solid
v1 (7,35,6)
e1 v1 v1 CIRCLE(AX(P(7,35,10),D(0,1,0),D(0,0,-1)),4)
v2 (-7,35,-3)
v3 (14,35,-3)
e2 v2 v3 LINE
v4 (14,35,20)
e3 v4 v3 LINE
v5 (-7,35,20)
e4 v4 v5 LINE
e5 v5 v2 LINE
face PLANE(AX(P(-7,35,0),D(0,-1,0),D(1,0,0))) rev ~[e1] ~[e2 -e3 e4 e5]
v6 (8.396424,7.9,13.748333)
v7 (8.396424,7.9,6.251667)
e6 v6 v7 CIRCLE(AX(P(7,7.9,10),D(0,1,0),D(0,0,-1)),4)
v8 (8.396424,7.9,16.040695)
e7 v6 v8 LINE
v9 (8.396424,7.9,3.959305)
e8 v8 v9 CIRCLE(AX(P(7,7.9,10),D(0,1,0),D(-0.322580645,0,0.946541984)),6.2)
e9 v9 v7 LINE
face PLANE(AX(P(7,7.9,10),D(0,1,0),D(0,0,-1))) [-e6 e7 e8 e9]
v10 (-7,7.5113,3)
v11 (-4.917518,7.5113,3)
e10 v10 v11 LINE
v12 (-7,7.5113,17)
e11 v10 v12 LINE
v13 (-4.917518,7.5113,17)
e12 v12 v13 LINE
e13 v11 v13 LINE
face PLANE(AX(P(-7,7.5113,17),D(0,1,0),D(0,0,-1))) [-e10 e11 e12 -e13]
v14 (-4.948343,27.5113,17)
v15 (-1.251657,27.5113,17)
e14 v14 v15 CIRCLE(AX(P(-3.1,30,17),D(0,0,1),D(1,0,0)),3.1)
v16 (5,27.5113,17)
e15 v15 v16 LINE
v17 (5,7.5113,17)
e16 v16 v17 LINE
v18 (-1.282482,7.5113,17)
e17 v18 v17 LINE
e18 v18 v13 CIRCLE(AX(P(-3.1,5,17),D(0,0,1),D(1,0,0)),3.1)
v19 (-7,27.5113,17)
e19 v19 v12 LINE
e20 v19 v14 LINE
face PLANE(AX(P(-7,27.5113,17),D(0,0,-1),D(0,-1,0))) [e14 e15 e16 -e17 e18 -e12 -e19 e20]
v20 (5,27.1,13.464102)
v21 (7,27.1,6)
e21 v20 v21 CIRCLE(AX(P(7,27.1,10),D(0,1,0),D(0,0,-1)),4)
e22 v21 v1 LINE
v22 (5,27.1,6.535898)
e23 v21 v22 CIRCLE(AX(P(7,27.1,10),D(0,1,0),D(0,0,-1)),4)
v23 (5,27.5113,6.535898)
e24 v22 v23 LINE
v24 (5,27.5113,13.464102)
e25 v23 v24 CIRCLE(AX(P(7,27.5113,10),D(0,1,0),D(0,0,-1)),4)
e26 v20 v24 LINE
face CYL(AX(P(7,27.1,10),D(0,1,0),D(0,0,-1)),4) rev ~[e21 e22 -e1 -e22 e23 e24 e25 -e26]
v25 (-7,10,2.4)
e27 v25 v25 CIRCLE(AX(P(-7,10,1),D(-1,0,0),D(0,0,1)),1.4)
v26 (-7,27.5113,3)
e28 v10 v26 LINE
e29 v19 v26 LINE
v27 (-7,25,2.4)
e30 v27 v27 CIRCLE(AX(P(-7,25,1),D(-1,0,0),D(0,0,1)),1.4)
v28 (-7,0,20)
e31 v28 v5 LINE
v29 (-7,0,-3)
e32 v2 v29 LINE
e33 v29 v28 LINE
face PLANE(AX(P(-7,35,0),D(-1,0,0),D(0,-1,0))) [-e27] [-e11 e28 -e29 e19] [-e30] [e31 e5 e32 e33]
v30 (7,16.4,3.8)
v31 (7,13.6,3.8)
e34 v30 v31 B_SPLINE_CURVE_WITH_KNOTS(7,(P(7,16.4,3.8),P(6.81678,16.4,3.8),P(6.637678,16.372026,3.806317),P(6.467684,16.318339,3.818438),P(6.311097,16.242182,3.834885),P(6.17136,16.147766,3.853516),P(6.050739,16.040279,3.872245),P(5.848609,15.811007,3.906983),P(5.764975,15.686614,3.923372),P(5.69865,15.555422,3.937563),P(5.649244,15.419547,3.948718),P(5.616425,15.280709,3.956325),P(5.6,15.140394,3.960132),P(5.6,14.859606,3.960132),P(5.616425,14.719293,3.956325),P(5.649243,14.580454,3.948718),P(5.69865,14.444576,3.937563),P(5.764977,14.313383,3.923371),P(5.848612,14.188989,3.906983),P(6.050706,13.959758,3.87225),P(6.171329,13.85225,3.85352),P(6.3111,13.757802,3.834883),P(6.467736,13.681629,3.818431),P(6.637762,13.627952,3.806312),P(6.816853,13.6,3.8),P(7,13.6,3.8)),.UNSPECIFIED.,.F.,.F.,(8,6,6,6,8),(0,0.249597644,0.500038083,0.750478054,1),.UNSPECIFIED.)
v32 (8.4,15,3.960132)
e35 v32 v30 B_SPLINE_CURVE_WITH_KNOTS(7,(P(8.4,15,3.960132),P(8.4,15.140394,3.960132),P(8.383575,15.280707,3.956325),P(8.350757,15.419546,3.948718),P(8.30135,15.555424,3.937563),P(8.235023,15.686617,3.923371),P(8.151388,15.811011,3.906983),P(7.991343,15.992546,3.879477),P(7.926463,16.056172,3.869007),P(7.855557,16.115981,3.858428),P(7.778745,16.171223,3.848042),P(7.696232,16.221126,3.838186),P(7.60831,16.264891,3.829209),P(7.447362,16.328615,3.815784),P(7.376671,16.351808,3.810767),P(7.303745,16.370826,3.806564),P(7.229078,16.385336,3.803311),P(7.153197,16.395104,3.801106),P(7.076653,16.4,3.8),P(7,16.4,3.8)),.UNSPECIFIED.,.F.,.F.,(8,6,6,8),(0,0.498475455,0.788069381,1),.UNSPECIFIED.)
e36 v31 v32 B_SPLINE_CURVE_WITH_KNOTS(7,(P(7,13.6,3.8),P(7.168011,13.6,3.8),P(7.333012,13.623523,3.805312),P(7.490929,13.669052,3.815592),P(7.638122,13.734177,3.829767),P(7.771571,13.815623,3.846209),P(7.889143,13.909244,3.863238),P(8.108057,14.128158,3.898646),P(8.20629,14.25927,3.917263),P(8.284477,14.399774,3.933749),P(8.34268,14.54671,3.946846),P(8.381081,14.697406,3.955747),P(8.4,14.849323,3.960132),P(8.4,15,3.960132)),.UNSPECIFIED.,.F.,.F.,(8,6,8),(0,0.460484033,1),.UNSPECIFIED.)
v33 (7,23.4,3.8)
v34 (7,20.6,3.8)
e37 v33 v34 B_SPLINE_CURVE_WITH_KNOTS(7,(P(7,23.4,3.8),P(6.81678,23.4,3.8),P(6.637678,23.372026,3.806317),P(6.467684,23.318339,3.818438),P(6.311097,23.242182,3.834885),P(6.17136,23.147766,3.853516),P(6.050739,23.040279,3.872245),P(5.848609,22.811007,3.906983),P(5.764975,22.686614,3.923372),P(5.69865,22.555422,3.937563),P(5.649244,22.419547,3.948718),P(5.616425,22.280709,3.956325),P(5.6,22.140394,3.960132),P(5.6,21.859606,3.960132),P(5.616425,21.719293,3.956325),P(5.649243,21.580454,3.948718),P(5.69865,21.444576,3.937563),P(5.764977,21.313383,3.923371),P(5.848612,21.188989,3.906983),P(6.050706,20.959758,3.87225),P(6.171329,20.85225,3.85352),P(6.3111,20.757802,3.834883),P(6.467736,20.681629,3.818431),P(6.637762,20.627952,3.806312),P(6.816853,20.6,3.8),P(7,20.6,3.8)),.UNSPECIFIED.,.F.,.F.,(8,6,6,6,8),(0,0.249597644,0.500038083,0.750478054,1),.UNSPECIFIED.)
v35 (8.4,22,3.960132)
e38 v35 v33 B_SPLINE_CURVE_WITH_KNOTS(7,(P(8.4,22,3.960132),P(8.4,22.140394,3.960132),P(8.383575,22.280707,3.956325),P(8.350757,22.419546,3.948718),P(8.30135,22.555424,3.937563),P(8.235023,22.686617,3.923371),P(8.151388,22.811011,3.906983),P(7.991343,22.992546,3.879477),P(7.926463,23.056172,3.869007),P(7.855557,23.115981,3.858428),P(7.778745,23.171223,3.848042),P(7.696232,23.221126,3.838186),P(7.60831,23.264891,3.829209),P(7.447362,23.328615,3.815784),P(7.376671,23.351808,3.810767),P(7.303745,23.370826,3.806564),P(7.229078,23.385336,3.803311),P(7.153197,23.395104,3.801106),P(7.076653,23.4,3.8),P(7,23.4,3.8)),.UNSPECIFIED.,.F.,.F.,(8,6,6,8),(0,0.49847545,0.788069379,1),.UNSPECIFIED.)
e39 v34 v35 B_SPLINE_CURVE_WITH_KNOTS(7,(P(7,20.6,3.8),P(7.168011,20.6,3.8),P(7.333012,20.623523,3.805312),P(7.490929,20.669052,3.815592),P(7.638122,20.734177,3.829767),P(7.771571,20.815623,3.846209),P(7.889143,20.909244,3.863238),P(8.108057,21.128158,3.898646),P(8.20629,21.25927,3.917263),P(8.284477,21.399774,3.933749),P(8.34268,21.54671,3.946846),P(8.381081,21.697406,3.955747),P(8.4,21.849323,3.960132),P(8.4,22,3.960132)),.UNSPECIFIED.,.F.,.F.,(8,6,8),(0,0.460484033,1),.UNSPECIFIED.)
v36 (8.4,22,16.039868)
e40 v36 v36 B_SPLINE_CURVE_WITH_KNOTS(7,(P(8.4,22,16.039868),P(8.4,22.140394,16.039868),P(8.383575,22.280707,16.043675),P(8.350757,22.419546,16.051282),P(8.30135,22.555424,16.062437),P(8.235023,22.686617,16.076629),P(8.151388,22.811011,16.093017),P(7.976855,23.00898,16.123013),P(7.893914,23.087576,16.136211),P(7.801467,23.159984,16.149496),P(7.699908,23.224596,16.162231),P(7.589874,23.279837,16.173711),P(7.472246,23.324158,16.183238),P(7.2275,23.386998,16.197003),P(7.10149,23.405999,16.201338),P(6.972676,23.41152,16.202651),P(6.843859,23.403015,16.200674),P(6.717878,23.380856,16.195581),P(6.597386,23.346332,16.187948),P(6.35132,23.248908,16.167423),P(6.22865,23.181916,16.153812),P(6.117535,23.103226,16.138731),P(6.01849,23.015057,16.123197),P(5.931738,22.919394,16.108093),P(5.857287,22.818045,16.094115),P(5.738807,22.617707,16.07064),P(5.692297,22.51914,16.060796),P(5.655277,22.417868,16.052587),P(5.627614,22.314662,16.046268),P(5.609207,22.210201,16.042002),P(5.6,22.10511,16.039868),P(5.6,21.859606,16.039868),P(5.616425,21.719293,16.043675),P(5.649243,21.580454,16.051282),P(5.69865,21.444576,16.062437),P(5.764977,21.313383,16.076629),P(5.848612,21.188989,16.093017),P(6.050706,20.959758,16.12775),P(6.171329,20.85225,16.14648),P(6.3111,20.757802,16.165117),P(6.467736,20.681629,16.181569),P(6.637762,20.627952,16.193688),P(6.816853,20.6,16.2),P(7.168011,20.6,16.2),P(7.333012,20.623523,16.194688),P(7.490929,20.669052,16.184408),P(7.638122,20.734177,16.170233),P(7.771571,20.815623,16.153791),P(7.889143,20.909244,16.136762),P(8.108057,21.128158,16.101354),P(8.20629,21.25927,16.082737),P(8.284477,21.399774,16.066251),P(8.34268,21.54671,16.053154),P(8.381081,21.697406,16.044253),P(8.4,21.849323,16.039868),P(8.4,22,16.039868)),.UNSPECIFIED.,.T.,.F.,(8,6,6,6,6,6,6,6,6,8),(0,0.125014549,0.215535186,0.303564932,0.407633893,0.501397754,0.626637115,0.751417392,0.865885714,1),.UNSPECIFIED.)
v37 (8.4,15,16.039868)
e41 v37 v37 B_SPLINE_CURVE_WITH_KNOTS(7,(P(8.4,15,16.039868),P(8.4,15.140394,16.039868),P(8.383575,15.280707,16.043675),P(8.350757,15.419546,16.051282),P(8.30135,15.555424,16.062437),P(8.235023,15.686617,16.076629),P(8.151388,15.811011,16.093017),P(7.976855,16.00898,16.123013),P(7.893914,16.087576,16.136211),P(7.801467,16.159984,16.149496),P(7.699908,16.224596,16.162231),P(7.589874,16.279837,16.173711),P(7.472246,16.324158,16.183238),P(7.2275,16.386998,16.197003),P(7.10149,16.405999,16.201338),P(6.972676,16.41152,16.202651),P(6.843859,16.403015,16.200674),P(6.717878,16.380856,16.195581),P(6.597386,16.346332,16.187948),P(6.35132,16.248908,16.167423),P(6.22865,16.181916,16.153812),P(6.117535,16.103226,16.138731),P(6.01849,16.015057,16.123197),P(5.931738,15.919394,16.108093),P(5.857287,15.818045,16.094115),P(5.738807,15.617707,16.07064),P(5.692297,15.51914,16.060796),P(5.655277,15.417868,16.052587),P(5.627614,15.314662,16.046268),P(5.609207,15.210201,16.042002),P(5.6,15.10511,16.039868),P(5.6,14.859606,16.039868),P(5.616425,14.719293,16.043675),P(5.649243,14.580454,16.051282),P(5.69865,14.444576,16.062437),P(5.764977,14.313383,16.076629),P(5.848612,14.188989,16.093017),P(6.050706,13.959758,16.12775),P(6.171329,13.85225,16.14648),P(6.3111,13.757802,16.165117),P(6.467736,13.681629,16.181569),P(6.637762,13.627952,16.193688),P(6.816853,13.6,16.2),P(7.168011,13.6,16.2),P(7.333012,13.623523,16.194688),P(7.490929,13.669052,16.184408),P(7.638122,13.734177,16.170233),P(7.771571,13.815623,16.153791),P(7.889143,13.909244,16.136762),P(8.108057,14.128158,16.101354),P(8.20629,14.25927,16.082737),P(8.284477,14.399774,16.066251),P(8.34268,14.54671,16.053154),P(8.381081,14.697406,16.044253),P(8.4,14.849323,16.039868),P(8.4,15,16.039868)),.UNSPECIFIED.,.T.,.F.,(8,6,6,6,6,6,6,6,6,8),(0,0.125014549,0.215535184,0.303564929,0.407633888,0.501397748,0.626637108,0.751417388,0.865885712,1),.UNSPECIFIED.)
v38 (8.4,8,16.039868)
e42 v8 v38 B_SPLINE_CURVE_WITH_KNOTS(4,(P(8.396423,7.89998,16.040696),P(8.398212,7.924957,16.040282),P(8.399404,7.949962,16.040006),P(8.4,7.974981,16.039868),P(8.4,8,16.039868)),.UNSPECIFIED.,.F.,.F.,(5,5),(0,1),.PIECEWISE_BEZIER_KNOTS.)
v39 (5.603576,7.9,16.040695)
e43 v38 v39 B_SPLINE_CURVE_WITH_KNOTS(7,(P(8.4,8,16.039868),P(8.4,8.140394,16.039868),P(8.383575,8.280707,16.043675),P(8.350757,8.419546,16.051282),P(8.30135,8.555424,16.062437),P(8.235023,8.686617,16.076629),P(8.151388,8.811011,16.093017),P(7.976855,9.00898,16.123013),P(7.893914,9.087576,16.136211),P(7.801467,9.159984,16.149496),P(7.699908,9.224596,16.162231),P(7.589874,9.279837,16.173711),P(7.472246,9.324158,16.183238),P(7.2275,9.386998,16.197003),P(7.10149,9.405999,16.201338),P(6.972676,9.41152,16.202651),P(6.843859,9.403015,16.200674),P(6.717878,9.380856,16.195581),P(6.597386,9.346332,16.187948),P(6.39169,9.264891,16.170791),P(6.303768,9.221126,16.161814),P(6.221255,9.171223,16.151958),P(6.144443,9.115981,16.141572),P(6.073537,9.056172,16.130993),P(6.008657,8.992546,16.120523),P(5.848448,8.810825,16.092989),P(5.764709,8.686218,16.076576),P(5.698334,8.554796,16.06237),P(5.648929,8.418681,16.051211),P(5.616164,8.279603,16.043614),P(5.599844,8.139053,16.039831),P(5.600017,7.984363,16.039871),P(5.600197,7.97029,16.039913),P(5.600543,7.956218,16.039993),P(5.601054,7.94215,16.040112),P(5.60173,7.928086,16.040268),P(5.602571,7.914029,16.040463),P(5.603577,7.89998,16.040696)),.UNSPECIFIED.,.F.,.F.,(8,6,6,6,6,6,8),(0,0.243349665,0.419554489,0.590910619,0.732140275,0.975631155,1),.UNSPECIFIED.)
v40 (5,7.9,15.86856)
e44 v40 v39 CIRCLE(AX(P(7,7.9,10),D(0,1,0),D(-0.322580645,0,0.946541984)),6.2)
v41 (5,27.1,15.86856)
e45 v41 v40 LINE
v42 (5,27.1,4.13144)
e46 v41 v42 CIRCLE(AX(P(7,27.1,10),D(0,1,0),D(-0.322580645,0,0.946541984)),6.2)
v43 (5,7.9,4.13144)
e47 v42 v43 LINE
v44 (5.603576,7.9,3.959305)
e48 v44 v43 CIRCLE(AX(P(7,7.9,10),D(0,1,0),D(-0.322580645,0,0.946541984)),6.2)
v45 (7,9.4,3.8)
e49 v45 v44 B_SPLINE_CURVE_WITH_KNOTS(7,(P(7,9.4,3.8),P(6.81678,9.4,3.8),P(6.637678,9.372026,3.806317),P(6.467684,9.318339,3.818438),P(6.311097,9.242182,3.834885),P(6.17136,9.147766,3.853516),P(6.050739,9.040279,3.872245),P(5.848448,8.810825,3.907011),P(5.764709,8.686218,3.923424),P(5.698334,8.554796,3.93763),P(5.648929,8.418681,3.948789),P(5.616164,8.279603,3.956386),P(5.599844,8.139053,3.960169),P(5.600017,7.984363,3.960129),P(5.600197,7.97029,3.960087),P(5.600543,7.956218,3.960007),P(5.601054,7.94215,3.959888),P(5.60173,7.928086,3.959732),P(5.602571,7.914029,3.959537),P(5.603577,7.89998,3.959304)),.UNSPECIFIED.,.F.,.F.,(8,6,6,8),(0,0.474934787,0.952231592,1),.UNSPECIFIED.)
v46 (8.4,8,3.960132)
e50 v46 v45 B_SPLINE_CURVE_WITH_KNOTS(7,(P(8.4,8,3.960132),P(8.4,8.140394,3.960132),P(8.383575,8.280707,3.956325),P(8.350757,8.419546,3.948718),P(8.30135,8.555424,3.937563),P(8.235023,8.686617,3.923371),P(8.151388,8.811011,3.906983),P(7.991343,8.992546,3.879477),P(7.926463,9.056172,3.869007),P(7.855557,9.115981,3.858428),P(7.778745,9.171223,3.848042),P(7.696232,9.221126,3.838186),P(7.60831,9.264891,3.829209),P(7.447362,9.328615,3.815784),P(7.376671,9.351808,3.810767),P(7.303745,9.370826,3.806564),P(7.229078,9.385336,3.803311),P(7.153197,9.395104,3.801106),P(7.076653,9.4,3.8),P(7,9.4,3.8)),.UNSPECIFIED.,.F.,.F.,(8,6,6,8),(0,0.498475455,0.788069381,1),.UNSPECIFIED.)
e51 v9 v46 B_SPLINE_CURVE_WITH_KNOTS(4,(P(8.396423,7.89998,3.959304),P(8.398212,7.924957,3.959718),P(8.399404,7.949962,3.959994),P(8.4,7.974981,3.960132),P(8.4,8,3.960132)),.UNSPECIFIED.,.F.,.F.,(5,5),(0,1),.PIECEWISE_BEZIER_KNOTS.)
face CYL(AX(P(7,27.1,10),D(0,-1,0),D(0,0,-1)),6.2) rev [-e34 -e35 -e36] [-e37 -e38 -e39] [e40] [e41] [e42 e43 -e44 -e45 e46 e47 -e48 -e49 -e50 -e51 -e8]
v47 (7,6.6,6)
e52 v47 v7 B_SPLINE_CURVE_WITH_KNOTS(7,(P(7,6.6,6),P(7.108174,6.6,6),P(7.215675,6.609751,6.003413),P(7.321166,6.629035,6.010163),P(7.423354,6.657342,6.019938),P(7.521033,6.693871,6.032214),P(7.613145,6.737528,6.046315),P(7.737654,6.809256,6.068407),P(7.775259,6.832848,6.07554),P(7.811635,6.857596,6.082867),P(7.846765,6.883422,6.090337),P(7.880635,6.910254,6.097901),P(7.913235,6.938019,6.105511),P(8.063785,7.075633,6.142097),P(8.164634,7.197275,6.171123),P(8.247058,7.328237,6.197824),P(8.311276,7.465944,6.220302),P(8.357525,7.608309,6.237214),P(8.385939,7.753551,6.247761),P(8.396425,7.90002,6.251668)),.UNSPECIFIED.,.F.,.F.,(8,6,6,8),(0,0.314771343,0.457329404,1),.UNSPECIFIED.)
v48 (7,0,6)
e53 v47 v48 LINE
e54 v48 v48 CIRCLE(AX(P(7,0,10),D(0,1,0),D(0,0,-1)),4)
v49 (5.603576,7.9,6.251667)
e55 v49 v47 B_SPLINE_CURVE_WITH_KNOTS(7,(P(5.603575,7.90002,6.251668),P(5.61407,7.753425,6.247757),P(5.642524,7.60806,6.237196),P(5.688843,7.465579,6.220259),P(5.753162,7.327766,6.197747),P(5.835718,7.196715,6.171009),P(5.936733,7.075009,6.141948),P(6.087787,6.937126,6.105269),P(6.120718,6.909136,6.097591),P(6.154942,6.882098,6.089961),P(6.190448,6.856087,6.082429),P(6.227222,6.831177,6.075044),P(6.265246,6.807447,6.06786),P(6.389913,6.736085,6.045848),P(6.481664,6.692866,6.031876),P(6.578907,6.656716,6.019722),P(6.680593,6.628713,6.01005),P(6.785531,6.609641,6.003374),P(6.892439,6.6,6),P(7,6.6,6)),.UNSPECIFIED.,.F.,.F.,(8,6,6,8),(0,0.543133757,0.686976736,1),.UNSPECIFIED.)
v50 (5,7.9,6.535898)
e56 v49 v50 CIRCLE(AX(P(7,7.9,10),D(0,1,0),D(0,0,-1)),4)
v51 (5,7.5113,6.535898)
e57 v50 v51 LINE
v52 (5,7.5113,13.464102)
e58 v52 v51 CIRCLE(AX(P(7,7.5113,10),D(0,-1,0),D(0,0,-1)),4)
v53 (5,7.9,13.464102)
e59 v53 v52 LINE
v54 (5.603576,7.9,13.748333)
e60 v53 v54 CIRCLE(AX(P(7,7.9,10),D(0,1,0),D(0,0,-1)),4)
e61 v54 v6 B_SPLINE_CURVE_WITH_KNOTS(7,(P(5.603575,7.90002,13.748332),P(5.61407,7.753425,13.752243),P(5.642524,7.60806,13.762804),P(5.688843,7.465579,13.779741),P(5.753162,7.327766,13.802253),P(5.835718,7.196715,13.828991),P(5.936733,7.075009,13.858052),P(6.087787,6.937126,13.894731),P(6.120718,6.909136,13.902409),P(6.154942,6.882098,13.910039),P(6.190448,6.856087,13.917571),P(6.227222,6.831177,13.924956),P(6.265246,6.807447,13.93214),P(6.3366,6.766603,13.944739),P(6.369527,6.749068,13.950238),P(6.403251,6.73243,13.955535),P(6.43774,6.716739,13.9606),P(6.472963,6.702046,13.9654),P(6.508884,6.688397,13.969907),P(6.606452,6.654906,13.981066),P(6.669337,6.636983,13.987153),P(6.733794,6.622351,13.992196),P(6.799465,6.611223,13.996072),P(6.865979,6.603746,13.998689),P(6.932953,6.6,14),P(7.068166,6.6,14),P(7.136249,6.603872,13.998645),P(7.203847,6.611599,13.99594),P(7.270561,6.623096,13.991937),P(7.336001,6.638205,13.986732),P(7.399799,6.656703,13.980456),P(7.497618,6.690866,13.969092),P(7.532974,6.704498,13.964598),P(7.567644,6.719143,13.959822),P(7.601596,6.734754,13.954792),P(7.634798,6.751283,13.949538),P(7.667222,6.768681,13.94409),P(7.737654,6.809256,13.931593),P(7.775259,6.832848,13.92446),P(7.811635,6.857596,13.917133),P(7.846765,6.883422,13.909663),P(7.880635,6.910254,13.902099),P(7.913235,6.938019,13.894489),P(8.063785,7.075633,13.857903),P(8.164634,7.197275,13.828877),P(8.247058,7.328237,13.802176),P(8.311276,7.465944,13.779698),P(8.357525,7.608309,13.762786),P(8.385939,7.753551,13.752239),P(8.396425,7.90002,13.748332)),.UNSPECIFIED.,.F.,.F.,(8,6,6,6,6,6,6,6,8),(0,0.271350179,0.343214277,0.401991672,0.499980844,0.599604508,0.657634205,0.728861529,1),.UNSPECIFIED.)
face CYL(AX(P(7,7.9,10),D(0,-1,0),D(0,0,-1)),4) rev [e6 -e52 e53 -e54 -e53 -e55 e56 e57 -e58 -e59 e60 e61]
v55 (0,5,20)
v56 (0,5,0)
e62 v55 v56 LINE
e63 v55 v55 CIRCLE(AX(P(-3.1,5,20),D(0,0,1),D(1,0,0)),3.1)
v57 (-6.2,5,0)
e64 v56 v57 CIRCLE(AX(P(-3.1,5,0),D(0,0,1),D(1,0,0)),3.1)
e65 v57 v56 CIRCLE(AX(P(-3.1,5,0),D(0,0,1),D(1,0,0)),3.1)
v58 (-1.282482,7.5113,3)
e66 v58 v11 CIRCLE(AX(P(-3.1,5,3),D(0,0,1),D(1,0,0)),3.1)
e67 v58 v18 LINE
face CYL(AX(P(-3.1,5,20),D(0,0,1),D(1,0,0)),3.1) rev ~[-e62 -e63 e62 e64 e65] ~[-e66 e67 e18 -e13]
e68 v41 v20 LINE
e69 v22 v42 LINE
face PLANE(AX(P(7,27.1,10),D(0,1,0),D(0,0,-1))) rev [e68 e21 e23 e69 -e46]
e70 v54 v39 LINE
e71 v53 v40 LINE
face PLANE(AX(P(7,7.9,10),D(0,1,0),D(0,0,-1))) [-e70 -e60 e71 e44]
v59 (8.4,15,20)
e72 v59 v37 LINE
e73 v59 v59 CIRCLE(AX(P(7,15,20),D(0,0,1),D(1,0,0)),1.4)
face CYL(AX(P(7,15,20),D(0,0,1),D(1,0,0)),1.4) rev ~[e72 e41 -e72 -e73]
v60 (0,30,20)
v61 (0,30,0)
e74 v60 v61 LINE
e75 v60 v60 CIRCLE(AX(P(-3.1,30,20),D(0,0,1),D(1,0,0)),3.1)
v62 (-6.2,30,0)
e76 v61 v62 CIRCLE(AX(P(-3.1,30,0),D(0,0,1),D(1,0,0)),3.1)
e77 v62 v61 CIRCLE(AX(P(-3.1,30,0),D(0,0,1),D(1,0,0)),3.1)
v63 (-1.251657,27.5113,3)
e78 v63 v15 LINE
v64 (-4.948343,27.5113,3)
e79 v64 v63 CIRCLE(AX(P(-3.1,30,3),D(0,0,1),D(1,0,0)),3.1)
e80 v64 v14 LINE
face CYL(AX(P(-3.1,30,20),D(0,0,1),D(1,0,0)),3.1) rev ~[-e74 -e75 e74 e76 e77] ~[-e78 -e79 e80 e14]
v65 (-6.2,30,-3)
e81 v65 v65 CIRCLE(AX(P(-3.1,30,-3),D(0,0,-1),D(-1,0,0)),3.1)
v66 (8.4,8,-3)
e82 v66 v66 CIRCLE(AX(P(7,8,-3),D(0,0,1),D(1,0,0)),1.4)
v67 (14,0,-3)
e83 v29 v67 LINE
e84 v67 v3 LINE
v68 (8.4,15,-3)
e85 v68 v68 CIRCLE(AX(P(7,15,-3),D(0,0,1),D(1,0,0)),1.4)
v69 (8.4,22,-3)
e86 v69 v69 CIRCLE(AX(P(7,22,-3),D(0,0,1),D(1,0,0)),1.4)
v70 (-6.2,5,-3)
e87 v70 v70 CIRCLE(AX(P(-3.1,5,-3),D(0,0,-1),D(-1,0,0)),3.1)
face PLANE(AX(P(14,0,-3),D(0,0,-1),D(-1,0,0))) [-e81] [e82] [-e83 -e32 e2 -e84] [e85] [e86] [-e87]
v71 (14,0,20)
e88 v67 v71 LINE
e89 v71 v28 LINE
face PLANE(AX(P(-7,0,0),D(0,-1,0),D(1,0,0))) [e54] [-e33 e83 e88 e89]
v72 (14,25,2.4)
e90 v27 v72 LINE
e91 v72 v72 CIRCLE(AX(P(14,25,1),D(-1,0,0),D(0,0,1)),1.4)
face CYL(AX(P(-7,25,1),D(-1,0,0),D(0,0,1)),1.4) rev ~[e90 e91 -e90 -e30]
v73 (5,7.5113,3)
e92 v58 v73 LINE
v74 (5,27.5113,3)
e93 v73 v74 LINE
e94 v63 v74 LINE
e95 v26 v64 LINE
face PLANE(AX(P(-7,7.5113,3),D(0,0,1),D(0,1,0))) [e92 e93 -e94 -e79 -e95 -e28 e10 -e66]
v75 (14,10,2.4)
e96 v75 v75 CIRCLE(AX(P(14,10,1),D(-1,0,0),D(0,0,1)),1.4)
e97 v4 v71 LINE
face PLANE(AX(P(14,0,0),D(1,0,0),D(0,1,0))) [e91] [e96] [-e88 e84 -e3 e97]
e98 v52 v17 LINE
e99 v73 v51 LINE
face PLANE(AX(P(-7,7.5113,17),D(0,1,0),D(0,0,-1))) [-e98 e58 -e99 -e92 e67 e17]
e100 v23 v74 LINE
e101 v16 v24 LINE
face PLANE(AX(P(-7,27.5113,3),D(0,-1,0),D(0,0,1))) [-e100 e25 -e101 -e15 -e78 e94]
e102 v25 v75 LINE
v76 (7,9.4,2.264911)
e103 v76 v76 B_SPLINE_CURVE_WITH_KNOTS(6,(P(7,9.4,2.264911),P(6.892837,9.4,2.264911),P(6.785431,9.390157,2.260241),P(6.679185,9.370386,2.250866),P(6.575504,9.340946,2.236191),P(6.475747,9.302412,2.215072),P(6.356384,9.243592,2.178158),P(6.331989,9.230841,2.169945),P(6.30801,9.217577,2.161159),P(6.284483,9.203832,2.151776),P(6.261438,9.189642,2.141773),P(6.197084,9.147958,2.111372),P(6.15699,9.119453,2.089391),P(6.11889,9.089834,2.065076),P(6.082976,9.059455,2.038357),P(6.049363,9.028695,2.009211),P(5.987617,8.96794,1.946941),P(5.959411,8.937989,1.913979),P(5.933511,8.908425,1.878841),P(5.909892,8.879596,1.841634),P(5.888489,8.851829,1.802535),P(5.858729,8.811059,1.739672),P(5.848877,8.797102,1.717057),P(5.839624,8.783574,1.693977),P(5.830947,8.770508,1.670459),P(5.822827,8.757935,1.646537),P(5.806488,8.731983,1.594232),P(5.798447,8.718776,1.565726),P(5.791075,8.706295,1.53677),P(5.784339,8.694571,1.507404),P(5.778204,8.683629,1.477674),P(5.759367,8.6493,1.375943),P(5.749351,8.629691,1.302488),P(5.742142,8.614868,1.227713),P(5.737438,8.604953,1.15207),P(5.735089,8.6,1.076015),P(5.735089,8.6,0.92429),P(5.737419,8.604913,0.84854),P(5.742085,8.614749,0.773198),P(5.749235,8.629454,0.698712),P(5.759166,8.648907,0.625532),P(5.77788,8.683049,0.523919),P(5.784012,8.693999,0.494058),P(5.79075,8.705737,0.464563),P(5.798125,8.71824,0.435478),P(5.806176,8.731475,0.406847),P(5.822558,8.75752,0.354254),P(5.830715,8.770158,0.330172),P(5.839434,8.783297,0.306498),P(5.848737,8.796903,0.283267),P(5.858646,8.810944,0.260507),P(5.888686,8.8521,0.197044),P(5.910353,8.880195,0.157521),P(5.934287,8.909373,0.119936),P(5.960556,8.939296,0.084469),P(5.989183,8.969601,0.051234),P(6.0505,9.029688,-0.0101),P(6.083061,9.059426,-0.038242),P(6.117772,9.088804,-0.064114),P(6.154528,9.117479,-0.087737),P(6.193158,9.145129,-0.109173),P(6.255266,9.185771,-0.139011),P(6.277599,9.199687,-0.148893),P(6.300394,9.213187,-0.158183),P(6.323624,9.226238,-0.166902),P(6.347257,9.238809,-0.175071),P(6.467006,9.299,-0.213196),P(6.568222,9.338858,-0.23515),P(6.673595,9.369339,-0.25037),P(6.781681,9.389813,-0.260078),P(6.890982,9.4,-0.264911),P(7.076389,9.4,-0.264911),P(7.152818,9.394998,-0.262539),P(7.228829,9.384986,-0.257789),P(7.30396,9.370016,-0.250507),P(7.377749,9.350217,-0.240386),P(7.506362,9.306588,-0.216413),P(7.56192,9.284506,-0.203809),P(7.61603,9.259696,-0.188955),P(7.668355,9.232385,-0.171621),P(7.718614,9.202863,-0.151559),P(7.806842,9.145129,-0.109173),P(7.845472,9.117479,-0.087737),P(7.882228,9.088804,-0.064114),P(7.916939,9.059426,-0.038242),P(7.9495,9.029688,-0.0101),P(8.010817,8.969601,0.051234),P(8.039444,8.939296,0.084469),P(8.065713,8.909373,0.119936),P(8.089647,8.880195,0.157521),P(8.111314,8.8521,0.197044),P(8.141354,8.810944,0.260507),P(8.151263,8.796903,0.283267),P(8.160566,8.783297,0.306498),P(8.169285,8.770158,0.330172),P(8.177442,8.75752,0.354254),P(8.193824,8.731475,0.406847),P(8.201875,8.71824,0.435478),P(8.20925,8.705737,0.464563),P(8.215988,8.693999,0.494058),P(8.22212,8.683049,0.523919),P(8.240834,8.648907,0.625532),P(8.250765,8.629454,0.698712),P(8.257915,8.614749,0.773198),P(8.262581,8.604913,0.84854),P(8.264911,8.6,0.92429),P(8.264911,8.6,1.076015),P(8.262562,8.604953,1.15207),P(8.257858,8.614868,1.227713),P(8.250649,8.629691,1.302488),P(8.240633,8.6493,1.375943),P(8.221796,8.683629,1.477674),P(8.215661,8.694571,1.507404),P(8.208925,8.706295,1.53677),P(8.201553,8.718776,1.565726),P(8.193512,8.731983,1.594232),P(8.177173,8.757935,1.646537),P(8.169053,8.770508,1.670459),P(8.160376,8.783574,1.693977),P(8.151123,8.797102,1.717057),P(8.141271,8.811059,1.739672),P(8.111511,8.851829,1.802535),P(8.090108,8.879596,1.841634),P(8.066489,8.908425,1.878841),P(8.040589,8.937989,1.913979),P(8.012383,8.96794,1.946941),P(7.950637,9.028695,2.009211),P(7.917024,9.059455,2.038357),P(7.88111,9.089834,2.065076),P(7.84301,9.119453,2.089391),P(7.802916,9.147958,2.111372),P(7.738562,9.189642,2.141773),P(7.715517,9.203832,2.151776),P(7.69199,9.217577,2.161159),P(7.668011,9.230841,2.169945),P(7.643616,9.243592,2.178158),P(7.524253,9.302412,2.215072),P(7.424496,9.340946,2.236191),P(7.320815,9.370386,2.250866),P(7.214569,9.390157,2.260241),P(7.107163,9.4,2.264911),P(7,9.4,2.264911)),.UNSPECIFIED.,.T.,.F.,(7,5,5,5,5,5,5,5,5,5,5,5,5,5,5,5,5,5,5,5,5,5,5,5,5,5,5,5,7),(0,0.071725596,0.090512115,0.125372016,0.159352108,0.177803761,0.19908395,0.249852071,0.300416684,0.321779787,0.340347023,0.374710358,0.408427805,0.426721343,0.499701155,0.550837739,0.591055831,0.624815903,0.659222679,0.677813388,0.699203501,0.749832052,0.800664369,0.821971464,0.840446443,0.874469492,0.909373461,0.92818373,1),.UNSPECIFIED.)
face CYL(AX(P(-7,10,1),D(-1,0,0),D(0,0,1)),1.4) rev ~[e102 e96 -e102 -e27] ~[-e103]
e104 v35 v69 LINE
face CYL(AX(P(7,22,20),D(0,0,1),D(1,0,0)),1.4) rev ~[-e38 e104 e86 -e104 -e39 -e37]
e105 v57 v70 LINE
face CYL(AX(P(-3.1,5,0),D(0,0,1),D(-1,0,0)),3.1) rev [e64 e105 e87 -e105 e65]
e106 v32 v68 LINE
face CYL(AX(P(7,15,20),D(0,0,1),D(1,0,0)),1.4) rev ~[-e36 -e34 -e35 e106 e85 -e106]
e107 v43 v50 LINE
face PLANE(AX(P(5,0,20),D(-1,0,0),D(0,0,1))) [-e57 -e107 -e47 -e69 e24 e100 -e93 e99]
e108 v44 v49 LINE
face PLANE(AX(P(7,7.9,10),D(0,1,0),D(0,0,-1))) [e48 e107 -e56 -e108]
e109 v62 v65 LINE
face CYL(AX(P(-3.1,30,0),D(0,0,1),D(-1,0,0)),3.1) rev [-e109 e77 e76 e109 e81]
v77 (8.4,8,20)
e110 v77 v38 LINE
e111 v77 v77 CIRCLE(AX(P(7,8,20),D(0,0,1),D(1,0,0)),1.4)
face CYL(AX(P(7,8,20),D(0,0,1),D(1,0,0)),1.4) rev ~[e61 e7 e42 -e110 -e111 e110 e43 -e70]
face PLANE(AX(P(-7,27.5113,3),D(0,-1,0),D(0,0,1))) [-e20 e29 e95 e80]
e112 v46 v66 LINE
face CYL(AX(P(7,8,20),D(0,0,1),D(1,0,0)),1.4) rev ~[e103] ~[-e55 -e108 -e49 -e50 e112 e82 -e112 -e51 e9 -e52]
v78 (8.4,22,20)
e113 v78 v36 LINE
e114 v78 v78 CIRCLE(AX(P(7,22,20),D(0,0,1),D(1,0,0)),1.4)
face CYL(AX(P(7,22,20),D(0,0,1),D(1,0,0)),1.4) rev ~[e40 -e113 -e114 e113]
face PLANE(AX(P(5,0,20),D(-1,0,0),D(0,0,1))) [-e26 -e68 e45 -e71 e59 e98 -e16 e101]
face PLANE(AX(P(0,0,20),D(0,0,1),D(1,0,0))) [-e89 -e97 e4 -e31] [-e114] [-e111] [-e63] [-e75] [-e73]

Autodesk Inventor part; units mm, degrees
ref_plane "YZ Plane" through (0, 0, 0) normal (1, 0, 0) x (0, 1, 0)
ref_plane "XZ Plane" through (0, 0, 0) normal (0, 1, 0) x (-1, 0, 0)
sketch "Sketch1" plane through (0, 0, 0) normal (1, 0, 0) x (0, 1, 0)
  line L0 (0, 0) -> (35, 0)
  line L1 (35, 0) -> (35, 20)
  line L2 (35, 20) -> (0, 20)
  line L3 (0, 20) -> (0, 0)
  dimension "d0" = 35
  dimension "d1" = 20
extrude "Extrusion1" add sketch "Sketch1" along normal blind 14
ref_plane "Work Plane1" through (7, 0, 0) normal (-1, 0, 0) x (0, 0, 1)
sketch "Sketch2" plane through (7, 0, 0) normal (-1, 0, 0) x (0, 0, 1)
  line L0 (20, 0) -> (0, 0) projected
  line L1 (10, 0) -> (10, 35)
  line L2 (0, 35) -> (20, 35) projected
  line L3 (3.8, 7.9) -> (16.2, 7.9)
  line L4 (16.2, 7.9) -> (16.2, 27.1)
  line L5 (16.2, 27.1) -> (3.8, 27.1)
  line L6 (3.8, 27.1) -> (3.8, 7.9)
  line L7 (3.8, 7.9) -> (16.2, 27.1) construction
  line L8 (16.2, 7.9) -> (3.8, 27.1) construction
  line L9 (10, 7.9) -> (6, 7.9)
  line L10 (6, 7.9) -> (6, 0)
  line L11 (6, 0) -> (10, 0)
  line L12 (10, 0) -> (10, 7.9)
  line L13 (10, 27.1) -> (6, 27.1)
  line L14 (6, 27.1) -> (6, 35)
  line L15 (6, 35) -> (10, 35)
  line L16 (10, 35) -> (10, 27.1)
  line L17 (10, 27.1) -> (3.8, 27.1)
  line L18 (3.8, 27.1) -> (3.8, 7.9)
  line L19 (3.8, 7.9) -> (10, 7.9)
  line L20 (10, 7.9) -> (10, 27.1)
  point P0 (10, 17.5)
  dimension "d5" = 12.4
  dimension "d6" = 19.2
  dimension "d7" = 4
revolve "Revolution1" cut sketch "Sketch2" angle 360 about axis through (7, 0, 10) along (0, 1, 0) contours L0 L10 L3 L1 | L3 L6 L5 L1 | L5 L14 L2 L1
sketch "Sketch3" plane through (0, 0, 20) normal (0, 0, 1) x (1, 0, 0)
  line L0 (0, 35) -> (0, 0) projected
  line L1 (0, 0) -> (14, 0) projected
  line L2 (14, 35) -> (14, 0) projected
  line L3 (0, 35) -> (14, 35) projected
  line L4 (0, 0) -> (0, 35) projected
  line L5 (0, 0) -> (-7, 0)
  line L6 (-7, 0) -> (-7, 35)
  line L7 (-7, 35) -> (0, 35)
  line L8 (0, 35) -> (0, 0)
  line L9 (0, 35) -> (14, 35) projected
  circle A0 centre (-3.1, 5) radius 3.1
  line L10 (0, 35) -> (0, 0) projected
  circle A1 centre (-3.1, 30) radius 3.1
  dimension "d9" = 7
  dimension "d10" = 6.2
  dimension "d11" = 6.2
  dimension "d12" = 5
  dimension "d13" = 5
extrude "Extrusion2" add sketch "Sketch3" against normal up to surface (20 mm away) contours L0 L5 L6 L7
sketch "Sketch4" plane through (-7, 0, 20) normal (-1, 0, 0) x (0, 0, 1)
  line L0 (-16.2, 27.1) -> (-16.2, 7.9) projected
  line L1 (-15, 24.5) -> (-5, 24.5) projected
  line L2 (-14, 27.1) -> (-6, 27.1) projected
  line L3 (-16.2, 7.9) -> (-3.8, 7.9) projected
  line L4 (-3.8, 27.1) -> (-3.8, 7.9) projected
  line L5 (-16.2, 27.1) -> (-3.8, 27.1) projected
  line L6 (-17, 27.5113) -> (-3, 27.5113)
  line L7 (-3, 27.5113) -> (-3, 7.5113)
  line L8 (-3, 7.5113) -> (-17, 7.5113)
  line L9 (-17, 7.5113) -> (-17, 27.5113)
  line L10 (-17, 27.5113) -> (-3, 7.5113) construction
  line L11 (-3, 27.5113) -> (-17, 7.5113) construction
  line L12 (-13.5, 32.7798) -> (-6.5, 32.7798)
  line L13 (-6.5, 32.7798) -> (-6.5, 27.5113)
  line L14 (-6.5, 27.5113) -> (-13.5, 27.5113)
  line L15 (-13.5, 27.5113) -> (-13.5, 32.7798)
  line L16 (-13.5, 32.7798) -> (-6.5, 27.5113) construction
  line L17 (-6.5, 32.7798) -> (-13.5, 27.5113) construction
  line L18 (-13.5, 1.8013) -> (-6.5, 1.8013)
  line L19 (-6.5, 1.8013) -> (-6.5, 7.5113)
  line L20 (-6.5, 7.5113) -> (-13.5, 7.5113)
  line L21 (-13.5, 7.5113) -> (-13.5, 1.8013)
  line L22 (-13.5, 1.8013) -> (-6.5, 7.5113) construction
  line L23 (-6.5, 1.8013) -> (-13.5, 7.5113) construction
  line L24 (0, 35) -> (-20, 35) projected
  line L25 (-13.5, 32.7798) -> (-6.5, 32.7798)
  line L26 (-6.5, 32.7798) -> (-6.5, 35)
  line L27 (-6.5, 35) -> (-13.5, 35)
  line L28 (-13.5, 35) -> (-13.5, 32.7798)
  line L29 (-6, 0) -> (-14, 0) projected
  line L30 (-13.5, 1.8013) -> (-6, 1.8013)
  line L31 (-6, 1.8013) -> (-6, 0)
  line L32 (-6, 0) -> (-13.5, 0)
  line L33 (-13.5, 0) -> (-13.5, 1.8013)
  point P0 (-20, 0)
  point P1 (-10, 17.5113)
  point P2 (-10, 30.1456)
  point P3 (-10, 4.6563)
  dimension "d16" = 14
  dimension "d17" = 20
  dimension "d18" = 7
  dimension "d41" = 7
extrude "Extrusion3" cut sketch "Sketch4" against normal blind 12 contours L5 L2 L4 L3 L0 | L6 L7 L8 L9
sketch "Sketch5" plane through (14, 0, 0) normal (0, 0, -1) x (-1, 0, 0)
  line L0 (21, 35) -> (0, 35) projected
  line L1 (0, 0) -> (0, 35) projected
  line L2 (21, 0) -> (0, 0) projected
  line L3 (21, 35) -> (21, 0) projected
  circle A0 centre (17.1, 30) radius 3.1 projected
  circle A1 centre (17.1, 5) radius 3.1 projected
  point P0 (14, 0)
ref_plane "Work Plane2" through (-3.5, -134.0004, -5) normal (0, 0, -1) x (0, 1, 0)
extrude "Extrusion4" add sketch "Sketch5" along normal blind 3
sketch "Sketch6" plane through (-7, 0, 20) normal (-1, 0, 0) x (0, 0, 1)
  point P0 (-20, 0)
sketch "Sketch7" plane through (-7, 0, 20) normal (-1, 0, 0) x (0, 0, 1)
  line L0 (-3, 7.5113) -> (-17, 7.5113) projected
  line L1 (-17, 7.5113) -> (-17, 27.5113) projected
  line L2 (-17, 27.5113) -> (-3, 27.5113) projected
  line L3 (-3, 27.5113) -> (-3, 7.5113) projected
  line L4 (0, 0) -> (-23, 0) projected
  line L5 (0, 35) -> (0, 0) projected
  line L6 (0, 35) -> (-23, 35) projected
  line L7 (-23, 0) -> (-23, 35) projected
  circle A0 centre (-19, 10) radius 1.4
  circle A1 centre (-19, 25) radius 1.4
  point P0 (-20, 0)
  dimension "d23" = 2.8
  dimension "d24" = 2.8
  dimension "d25" = 10
  dimension "d26" = 10
  dimension "d27" = 4
  dimension "d36" = 4
extrude "Extrusion5" cut sketch "Sketch7" against normal through all contours A0 | A1
sketch "Sketch8" plane through (14, 0, 20) normal (0, 0, 1) x (1, 0, 0)
  line L0 (-10, 99.8613) -> (-10, -100.1387)
  line L1 (-4, 99.8613) -> (-4, -100.1387)
  circle A0 centre (-7, 15) radius 1.4
  line L2 (-21, 0) -> (0, 0) projected
  circle A1 centre (-7, 8) radius 1.4
  circle A2 centre (-7, 22) radius 1.4
  point P0 (-14, 0)
  dimension "d31" = 2.8
  dimension "d32" = 15
  dimension "d33" = 3
  dimension "d37" = 2.8
  dimension "d38" = 2.8
  dimension "d39" = 7
  dimension "d40" = 7
extrude "Extrusion6" cut sketch "Sketch8" against normal through all
properties part number "30_CUBE_openXY_slider"
